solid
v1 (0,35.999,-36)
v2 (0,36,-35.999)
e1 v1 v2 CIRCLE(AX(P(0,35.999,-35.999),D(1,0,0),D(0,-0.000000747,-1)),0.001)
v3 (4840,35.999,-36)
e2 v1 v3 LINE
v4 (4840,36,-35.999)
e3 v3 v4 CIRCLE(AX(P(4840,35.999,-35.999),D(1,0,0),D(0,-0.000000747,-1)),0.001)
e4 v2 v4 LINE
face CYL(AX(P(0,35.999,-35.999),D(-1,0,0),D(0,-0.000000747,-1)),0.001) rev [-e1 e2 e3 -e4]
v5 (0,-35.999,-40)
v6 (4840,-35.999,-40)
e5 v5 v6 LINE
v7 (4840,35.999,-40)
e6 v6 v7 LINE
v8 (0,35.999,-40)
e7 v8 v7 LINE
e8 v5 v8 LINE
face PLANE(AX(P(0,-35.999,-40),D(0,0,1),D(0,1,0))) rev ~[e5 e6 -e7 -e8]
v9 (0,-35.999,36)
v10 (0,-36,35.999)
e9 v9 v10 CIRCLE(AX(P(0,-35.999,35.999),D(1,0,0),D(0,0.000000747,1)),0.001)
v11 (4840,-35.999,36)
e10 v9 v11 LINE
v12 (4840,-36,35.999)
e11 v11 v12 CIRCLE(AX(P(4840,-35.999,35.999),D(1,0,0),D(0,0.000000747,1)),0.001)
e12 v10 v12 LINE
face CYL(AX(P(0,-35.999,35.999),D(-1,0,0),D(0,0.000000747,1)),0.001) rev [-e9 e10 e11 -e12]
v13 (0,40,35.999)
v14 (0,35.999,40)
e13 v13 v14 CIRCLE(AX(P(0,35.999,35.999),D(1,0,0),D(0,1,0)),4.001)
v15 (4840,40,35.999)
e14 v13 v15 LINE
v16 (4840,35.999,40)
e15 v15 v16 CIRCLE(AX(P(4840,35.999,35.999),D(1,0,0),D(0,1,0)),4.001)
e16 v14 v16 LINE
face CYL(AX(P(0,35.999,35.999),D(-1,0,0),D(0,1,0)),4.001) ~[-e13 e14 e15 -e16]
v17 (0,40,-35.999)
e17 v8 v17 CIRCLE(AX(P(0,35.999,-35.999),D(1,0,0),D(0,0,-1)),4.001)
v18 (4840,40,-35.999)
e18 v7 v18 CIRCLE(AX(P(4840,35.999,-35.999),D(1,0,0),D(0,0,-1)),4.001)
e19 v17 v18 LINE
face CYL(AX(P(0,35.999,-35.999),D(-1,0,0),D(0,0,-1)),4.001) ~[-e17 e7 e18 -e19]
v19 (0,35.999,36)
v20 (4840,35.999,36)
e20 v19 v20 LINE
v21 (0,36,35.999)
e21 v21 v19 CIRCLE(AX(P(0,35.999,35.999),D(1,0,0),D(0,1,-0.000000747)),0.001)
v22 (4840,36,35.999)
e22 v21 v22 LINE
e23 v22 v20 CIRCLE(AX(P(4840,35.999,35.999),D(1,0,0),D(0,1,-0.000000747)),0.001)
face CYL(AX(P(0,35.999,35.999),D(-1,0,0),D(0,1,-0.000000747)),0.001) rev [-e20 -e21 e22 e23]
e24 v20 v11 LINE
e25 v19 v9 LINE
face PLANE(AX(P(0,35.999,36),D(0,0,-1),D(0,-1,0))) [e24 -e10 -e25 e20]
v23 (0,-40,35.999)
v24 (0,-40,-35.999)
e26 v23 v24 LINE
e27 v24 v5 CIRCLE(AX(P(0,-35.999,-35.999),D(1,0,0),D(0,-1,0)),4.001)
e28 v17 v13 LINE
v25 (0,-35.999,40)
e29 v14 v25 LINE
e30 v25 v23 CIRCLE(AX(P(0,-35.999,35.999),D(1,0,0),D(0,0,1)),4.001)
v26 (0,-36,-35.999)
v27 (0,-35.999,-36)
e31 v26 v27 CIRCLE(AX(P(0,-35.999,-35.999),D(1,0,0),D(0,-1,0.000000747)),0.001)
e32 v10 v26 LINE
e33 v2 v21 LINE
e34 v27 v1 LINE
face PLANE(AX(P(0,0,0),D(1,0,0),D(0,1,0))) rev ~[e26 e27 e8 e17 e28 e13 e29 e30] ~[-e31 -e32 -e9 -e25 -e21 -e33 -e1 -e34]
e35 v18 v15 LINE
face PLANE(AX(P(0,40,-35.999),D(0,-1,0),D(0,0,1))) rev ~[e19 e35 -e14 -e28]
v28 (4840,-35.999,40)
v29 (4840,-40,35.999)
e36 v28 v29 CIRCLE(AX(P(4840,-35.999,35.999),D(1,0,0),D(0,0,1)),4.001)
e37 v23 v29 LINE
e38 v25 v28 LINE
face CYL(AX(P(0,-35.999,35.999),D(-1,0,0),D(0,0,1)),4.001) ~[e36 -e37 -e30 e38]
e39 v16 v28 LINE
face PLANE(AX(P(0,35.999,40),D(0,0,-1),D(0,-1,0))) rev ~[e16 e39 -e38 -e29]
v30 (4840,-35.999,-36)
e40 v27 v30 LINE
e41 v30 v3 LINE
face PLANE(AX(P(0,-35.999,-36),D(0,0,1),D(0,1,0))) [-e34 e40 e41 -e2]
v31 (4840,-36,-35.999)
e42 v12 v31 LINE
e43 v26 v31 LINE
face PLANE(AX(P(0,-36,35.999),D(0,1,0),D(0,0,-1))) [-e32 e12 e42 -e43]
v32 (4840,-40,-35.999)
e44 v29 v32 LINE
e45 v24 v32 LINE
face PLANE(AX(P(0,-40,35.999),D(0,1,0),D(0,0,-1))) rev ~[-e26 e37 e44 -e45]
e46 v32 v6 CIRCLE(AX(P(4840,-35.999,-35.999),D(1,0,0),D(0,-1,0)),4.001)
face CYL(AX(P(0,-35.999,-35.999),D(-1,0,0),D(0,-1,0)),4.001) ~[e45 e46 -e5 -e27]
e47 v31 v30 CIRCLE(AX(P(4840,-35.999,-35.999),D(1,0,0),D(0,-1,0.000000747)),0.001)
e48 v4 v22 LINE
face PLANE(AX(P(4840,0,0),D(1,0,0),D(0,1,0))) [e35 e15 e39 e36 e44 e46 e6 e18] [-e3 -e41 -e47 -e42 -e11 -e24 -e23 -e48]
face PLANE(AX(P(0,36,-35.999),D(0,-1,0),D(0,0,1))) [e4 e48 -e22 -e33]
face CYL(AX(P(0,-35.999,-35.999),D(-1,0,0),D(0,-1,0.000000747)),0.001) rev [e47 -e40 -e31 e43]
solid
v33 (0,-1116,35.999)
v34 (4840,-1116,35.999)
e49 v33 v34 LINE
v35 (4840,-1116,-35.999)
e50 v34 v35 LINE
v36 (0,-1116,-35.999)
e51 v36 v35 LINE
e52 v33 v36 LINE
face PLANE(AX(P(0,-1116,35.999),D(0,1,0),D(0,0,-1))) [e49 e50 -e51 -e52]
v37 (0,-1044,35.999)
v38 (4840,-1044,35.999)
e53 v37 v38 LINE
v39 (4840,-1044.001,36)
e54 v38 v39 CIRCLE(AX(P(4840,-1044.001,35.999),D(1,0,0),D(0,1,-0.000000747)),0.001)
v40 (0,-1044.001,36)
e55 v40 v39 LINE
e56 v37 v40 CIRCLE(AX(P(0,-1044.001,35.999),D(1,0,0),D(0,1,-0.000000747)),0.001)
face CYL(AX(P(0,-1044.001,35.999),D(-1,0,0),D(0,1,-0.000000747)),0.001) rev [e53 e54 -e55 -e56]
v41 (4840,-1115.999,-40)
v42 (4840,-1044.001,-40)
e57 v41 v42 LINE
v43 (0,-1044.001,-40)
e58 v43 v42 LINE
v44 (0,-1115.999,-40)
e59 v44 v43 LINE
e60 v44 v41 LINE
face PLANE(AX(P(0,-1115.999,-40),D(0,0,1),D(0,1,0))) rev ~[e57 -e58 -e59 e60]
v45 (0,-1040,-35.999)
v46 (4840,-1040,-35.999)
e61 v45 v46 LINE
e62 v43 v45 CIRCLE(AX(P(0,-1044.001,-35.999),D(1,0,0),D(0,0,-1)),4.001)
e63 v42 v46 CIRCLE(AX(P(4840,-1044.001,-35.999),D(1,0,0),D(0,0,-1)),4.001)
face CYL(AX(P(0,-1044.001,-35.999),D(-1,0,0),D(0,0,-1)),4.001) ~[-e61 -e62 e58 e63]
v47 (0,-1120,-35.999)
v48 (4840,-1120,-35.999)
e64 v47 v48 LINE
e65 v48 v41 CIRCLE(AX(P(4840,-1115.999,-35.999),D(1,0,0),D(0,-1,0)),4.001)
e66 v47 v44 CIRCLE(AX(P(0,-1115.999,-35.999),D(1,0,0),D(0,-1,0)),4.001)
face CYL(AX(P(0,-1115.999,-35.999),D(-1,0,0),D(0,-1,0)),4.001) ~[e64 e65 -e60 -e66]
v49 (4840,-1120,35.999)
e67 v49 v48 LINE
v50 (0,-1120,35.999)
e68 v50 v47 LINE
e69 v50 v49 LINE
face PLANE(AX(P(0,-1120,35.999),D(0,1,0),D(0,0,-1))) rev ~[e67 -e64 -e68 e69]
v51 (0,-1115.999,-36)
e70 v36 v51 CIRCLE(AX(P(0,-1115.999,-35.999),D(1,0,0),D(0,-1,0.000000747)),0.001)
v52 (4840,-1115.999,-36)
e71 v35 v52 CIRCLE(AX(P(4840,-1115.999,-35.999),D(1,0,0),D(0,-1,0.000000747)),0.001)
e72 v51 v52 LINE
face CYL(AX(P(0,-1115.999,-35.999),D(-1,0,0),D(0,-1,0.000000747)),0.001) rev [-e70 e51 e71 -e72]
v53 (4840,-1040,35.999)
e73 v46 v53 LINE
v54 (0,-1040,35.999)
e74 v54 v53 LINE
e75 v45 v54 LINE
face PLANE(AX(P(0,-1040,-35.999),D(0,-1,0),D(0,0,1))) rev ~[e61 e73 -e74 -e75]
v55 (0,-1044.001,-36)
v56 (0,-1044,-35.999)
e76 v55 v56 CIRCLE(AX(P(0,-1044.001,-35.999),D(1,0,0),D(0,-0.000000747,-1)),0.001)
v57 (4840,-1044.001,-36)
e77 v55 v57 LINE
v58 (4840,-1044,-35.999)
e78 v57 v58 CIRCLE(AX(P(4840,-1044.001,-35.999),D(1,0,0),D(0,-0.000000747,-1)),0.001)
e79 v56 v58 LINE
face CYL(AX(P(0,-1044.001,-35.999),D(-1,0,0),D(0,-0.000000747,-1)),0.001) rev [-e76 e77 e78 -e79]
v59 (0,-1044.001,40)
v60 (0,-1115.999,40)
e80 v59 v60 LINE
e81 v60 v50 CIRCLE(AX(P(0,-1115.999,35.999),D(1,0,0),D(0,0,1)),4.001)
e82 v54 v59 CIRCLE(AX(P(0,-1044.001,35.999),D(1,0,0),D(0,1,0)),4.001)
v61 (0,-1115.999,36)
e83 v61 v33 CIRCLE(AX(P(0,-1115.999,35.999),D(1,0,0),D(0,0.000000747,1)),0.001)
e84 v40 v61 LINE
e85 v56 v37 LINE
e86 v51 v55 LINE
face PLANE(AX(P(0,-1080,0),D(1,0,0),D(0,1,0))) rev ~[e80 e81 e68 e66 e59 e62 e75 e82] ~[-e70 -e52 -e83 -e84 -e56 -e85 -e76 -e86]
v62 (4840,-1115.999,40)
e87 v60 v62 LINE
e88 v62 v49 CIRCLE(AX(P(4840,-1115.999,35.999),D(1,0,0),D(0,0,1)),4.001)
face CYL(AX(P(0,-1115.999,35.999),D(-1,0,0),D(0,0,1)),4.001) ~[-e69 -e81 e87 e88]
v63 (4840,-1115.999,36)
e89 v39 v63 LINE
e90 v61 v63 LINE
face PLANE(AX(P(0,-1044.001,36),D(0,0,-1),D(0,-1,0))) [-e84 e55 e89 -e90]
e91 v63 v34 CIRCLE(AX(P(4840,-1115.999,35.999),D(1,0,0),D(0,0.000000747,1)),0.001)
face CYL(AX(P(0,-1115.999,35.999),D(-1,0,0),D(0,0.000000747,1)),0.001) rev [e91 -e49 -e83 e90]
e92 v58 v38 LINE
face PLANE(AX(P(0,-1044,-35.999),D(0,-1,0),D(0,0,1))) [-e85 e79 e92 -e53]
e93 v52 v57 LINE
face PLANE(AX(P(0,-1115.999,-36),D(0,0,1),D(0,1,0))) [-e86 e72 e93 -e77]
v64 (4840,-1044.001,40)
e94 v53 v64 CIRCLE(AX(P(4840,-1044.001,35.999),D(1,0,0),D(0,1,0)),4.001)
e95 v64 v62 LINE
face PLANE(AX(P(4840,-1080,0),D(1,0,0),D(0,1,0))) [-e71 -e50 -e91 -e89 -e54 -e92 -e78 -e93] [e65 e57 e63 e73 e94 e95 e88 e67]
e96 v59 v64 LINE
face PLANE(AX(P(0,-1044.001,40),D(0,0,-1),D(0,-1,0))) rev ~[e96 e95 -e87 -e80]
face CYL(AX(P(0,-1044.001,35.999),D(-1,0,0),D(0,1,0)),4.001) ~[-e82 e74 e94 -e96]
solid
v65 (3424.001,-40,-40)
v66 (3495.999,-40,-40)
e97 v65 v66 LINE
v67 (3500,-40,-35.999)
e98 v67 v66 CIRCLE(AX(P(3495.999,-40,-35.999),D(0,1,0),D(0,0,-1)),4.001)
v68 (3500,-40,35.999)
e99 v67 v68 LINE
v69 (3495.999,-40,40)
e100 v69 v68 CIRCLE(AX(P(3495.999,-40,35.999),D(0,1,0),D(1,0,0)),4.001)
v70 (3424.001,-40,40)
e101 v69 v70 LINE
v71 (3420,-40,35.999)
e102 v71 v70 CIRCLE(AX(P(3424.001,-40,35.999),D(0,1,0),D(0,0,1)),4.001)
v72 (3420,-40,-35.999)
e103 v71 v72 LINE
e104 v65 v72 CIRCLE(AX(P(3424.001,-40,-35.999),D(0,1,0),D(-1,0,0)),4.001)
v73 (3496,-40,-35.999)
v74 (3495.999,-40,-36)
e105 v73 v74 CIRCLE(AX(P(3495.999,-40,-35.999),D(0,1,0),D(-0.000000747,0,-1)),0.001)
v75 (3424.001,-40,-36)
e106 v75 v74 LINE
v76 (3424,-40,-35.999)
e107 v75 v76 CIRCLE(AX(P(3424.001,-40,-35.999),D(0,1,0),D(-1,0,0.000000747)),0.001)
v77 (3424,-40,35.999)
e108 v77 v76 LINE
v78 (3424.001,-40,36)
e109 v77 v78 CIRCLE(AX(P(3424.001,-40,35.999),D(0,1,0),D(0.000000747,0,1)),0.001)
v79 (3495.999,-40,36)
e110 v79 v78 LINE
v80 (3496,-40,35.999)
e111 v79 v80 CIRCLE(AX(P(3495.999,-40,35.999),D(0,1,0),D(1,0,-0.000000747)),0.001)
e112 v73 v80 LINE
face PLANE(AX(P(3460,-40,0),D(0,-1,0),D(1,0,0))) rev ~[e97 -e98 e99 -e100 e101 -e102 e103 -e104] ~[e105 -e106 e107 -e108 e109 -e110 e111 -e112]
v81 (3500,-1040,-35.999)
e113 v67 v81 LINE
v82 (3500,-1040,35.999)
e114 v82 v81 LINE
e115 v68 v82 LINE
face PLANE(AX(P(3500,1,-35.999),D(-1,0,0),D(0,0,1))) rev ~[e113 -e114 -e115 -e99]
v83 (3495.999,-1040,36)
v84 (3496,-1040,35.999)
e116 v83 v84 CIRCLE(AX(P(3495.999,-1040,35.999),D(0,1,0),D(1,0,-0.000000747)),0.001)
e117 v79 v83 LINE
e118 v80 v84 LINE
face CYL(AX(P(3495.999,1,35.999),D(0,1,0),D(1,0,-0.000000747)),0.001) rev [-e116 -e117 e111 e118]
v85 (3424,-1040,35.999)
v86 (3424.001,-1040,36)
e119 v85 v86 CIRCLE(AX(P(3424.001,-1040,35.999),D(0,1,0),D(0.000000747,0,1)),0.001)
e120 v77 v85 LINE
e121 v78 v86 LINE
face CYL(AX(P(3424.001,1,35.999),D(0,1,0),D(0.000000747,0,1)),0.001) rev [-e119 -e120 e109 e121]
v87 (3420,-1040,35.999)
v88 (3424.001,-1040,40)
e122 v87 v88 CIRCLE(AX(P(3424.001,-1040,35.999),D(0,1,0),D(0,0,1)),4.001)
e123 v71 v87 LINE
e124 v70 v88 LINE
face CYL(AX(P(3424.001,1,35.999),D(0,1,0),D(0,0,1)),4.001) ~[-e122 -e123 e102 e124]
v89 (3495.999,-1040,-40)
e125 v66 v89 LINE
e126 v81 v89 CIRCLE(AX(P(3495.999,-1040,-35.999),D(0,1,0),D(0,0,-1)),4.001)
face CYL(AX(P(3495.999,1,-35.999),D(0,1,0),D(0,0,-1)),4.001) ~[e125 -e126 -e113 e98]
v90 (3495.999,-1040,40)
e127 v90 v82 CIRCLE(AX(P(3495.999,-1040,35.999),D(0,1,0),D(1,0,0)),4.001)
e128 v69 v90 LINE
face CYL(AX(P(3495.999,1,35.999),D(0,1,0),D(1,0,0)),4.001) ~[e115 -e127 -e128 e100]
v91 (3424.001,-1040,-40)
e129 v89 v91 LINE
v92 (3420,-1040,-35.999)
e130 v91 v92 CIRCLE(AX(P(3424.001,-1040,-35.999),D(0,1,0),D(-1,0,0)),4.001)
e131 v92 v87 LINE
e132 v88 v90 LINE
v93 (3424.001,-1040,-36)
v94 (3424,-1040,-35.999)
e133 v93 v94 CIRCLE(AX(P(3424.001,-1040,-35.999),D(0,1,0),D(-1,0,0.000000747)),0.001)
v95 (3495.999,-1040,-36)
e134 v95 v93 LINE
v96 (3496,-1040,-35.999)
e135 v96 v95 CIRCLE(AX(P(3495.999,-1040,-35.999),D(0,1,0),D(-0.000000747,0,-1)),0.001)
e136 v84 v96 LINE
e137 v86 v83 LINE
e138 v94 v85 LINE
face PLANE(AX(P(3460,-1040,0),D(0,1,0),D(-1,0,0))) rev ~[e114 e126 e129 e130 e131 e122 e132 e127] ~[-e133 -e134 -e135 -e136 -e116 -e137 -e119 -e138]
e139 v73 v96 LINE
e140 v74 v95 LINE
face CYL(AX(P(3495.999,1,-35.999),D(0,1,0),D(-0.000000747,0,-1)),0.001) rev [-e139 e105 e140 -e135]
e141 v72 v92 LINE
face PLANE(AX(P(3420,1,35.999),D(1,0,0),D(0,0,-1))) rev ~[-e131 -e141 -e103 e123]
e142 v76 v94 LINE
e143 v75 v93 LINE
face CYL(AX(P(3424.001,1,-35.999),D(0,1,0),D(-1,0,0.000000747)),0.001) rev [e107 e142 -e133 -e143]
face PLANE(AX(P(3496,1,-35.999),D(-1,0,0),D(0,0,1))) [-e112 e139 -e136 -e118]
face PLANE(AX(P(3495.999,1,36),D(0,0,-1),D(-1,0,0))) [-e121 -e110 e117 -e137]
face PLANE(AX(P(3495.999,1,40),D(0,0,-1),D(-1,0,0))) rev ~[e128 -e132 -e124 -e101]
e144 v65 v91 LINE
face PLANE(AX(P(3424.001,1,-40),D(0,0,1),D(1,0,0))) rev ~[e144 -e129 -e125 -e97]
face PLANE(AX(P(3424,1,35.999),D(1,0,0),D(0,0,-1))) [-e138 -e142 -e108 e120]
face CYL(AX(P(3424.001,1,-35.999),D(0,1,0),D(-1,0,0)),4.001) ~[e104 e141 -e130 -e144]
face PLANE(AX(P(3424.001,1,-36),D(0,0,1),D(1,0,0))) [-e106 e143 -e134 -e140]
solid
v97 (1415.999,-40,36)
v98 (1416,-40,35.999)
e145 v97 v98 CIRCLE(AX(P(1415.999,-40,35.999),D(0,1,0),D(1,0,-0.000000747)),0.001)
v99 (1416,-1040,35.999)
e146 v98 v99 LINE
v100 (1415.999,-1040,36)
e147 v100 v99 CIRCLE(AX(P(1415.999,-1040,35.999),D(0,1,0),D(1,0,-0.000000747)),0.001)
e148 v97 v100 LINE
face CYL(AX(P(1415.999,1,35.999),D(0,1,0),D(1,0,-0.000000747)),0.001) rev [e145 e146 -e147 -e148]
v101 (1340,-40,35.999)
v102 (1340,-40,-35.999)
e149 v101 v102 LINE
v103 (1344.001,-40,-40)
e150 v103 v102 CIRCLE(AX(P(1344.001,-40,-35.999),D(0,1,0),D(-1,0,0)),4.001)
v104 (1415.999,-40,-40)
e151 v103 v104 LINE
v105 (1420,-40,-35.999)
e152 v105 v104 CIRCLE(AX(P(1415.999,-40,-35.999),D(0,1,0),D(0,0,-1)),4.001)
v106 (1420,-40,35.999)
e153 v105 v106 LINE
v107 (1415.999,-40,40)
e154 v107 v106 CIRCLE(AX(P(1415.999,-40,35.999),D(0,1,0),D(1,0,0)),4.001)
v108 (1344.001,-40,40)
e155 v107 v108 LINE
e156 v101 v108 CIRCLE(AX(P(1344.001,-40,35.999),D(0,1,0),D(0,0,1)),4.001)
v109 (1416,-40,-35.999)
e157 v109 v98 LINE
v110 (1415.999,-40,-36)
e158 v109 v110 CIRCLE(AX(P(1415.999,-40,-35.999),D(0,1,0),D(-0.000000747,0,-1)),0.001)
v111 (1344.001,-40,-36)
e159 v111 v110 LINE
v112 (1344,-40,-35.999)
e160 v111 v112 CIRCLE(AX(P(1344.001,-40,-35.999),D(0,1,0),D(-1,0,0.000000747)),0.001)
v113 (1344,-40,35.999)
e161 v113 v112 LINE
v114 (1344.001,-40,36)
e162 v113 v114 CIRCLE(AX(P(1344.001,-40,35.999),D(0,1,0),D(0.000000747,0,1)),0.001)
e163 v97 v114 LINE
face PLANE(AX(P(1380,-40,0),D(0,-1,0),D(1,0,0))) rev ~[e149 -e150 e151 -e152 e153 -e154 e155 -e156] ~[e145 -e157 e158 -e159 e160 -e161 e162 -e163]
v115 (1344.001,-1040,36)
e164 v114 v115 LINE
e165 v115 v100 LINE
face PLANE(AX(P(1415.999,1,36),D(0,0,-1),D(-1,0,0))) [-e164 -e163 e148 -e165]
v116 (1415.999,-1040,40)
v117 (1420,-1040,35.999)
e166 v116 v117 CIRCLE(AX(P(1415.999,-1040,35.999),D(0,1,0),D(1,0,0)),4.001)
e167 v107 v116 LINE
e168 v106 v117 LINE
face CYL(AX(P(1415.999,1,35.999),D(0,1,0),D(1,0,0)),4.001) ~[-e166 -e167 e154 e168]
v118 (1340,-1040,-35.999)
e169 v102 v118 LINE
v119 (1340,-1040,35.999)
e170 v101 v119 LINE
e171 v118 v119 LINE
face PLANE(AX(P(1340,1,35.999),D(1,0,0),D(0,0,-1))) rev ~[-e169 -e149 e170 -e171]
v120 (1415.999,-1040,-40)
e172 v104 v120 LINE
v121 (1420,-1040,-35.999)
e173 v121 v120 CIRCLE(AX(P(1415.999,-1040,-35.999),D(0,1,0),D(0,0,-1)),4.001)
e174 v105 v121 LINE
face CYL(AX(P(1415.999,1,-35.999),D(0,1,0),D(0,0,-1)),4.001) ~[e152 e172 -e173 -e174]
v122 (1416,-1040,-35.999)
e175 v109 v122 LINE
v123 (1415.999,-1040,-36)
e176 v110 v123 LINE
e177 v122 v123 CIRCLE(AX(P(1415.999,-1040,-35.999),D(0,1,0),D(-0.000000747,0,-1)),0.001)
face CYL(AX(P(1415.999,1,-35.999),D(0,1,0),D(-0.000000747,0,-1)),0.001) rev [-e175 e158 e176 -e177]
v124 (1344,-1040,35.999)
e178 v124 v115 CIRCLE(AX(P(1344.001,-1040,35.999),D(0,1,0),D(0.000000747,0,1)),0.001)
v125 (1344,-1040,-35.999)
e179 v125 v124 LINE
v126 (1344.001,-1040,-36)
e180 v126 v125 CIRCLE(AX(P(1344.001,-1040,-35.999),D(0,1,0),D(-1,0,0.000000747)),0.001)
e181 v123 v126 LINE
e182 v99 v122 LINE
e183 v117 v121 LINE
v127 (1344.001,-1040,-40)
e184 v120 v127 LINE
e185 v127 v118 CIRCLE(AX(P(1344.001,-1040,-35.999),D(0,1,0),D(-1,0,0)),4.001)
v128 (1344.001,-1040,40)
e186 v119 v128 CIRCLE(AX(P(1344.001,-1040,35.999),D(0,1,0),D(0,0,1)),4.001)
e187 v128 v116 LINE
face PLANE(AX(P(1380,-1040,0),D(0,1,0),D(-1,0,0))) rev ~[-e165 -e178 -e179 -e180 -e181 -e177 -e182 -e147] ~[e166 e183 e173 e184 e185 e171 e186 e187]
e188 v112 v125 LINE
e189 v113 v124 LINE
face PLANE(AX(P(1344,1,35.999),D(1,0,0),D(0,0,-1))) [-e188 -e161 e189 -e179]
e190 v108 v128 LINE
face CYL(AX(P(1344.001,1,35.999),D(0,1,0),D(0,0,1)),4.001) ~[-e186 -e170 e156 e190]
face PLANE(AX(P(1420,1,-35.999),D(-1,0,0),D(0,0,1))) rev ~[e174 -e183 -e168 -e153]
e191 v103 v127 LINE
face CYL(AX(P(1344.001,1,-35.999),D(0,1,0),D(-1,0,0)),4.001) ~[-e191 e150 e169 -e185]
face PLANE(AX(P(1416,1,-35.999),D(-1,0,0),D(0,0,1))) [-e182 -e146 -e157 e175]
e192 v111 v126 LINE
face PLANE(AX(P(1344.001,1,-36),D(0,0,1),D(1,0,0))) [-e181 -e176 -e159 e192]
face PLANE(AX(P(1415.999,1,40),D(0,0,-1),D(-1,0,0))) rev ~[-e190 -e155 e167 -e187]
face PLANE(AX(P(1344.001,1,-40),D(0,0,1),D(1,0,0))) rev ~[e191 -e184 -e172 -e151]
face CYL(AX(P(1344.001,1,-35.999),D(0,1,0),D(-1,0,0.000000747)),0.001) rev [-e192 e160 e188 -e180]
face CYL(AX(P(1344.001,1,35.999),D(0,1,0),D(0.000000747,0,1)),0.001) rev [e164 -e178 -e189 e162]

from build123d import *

# Parameters (mm, degrees)
F_8639_82_80_X_80_X_4_0_1_DEPTH   = 4840
F_8639_82_80_X_80_X_4_0_1_2_DEPTH = 4840
F_8639_82_80_X_80_X_4_0_1_3_DEPTH = 1082
F_8639_82_80_X_80_X_4_0_1_4_DEPTH = 1082


with BuildPart() as part:
    # Sketch1 → Квадратная труба гост 8639-82 _80 X 80 X 4.0(1) (new body)
    with BuildSketch(Plane.YZ):
        with BuildLine():
            Line((-35.999, -40), (35.999, -40))
            ThreePointArc((35.999, -40), (38.828134232, -38.828134232), (40, -35.999))
            Line((40, -35.999), (40, 35.999))
            ThreePointArc((40, 35.999), (38.828134232, 38.828134232), (35.999, 40))
            Line((35.999, 40), (-35.999, 40))
            ThreePointArc((-35.999, 40), (-38.828134232, 38.828134232), (-40, 35.999))
            Line((-40, 35.999), (-40, -35.999))
            ThreePointArc((-40, -35.999), (-38.828134232, -38.828134232), (-35.999, -40))
        make_face()
        with BuildLine():
            Line((-35.999, -36), (35.999, -36))
            ThreePointArc((35.999, -36), (35.999707107, -35.999707107), (36, -35.999))
            Line((36, -35.999), (36, 35.999))
            ThreePointArc((36, 35.999), (35.999707107, 35.999707107), (35.999, 36))
            Line((35.999, 36), (-35.999, 36))
            ThreePointArc((-35.999, 36), (-35.999707107, 35.999707107), (-36, 35.999))
            Line((-36, 35.999), (-36, -35.999))
            ThreePointArc((-36, -35.999), (-35.999707107, -35.999707107), (-35.999, -36))
        make_face(mode=Mode.SUBTRACT)
    extrude(amount=F_8639_82_80_X_80_X_4_0_1_DEPTH)


with BuildPart() as body_2:
    # Sketch1 on segment 2 (carried to segment 2) → 8639-82 _80 X 80 X 4.0_1 2 (new body)
    with BuildSketch(Plane(origin=(0, -1080, 0), x_dir=(0, 1, 0), z_dir=(1, 0, 0))):
        with BuildLine():
            Line((-35.999, -40), (35.999, -40))
            ThreePointArc((35.999, -40), (38.828134232, -38.828134232), (40, -35.999))
            Line((40, -35.999), (40, 35.999))
            ThreePointArc((40, 35.999), (38.828134232, 38.828134232), (35.999, 40))
            Line((35.999, 40), (-35.999, 40))
            ThreePointArc((-35.999, 40), (-38.828134232, 38.828134232), (-40, 35.999))
            Line((-40, 35.999), (-40, -35.999))
            ThreePointArc((-40, -35.999), (-38.828134232, -38.828134232), (-35.999, -40))
        make_face()
        with BuildLine():
            Line((-35.999, -36), (35.999, -36))
            ThreePointArc((35.999, -36), (35.999707107, -35.999707107), (36, -35.999))
            Line((36, -35.999), (36, 35.999))
            ThreePointArc((36, 35.999), (35.999707107, 35.999707107), (35.999, 36))
            Line((35.999, 36), (-35.999, 36))
            ThreePointArc((-35.999, 36), (-35.999707107, 35.999707107), (-36, 35.999))
            Line((-36, 35.999), (-36, -35.999))
            ThreePointArc((-36, -35.999), (-35.999707107, -35.999707107), (-35.999, -36))
        make_face(mode=Mode.SUBTRACT)
    extrude(amount=F_8639_82_80_X_80_X_4_0_1_2_DEPTH)


with BuildPart() as body_3:
    # Sketch1 on segment 3 (carried to segment 3) → 8639-82 _80 X 80 X 4.0_1 3 (new body)
    with BuildSketch(Plane(origin=(1380, 1, 0), x_dir=(1, 0, 0), z_dir=(0, -1, 0))):
        with BuildLine():
            Line((-35.999, -40), (35.999, -40))
            ThreePointArc((35.999, -40), (38.828134232, -38.828134232), (40, -35.999))
            Line((40, -35.999), (40, 35.999))
            ThreePointArc((40, 35.999), (38.828134232, 38.828134232), (35.999, 40))
            Line((35.999, 40), (-35.999, 40))
            ThreePointArc((-35.999, 40), (-38.828134232, 38.828134232), (-40, 35.999))
            Line((-40, 35.999), (-40, -35.999))
            ThreePointArc((-40, -35.999), (-38.828134232, -38.828134232), (-35.999, -40))
        make_face()
        with BuildLine():
            Line((-35.999, -36), (35.999, -36))
            ThreePointArc((35.999, -36), (35.999707107, -35.999707107), (36, -35.999))
            Line((36, -35.999), (36, 35.999))
            ThreePointArc((36, 35.999), (35.999707107, 35.999707107), (35.999, 36))
            Line((35.999, 36), (-35.999, 36))
            ThreePointArc((-35.999, 36), (-35.999707107, 35.999707107), (-36, 35.999))
            Line((-36, 35.999), (-36, -35.999))
            ThreePointArc((-36, -35.999), (-35.999707107, -35.999707107), (-35.999, -36))
        make_face(mode=Mode.SUBTRACT)
    extrude(amount=F_8639_82_80_X_80_X_4_0_1_3_DEPTH)

    # 8639-82 _80 X 80 X 4.0_1 3 end butt 1
    split(bisect_by=Plane(origin=(1380, -40, 0), x_dir=(1, 0, 0), z_dir=(0, -1, 0)), keep=Keep.TOP)

    # 8639-82 _80 X 80 X 4.0_1 3 end butt 2
    split(bisect_by=Plane(origin=(1380, -1040, 0), x_dir=(-1, 0, 0), z_dir=(0, 1, 0)), keep=Keep.TOP)


with BuildPart() as body_4:
    # Sketch1 on segment 4 (carried to segment 4) → 8639-82 _80 X 80 X 4.0_1 4 (new body)
    with BuildSketch(Plane(origin=(3460, 1, 0), x_dir=(1, 0, 0), z_dir=(0, -1, 0))):
        with BuildLine():
            Line((-35.999, -40), (35.999, -40))
            ThreePointArc((35.999, -40), (38.828134232, -38.828134232), (40, -35.999))
            Line((40, -35.999), (40, 35.999))
            ThreePointArc((40, 35.999), (38.828134232, 38.828134232), (35.999, 40))
            Line((35.999, 40), (-35.999, 40))
            ThreePointArc((-35.999, 40), (-38.828134232, 38.828134232), (-40, 35.999))
            Line((-40, 35.999), (-40, -35.999))
            ThreePointArc((-40, -35.999), (-38.828134232, -38.828134232), (-35.999, -40))
        make_face()
        with BuildLine():
            Line((-35.999, -36), (35.999, -36))
            ThreePointArc((35.999, -36), (35.999707107, -35.999707107), (36, -35.999))
            Line((36, -35.999), (36, 35.999))
            ThreePointArc((36, 35.999), (35.999707107, 35.999707107), (35.999, 36))
            Line((35.999, 36), (-35.999, 36))
            ThreePointArc((-35.999, 36), (-35.999707107, 35.999707107), (-36, 35.999))
            Line((-36, 35.999), (-36, -35.999))
            ThreePointArc((-36, -35.999), (-35.999707107, -35.999707107), (-35.999, -36))
        make_face(mode=Mode.SUBTRACT)
    extrude(amount=F_8639_82_80_X_80_X_4_0_1_4_DEPTH)

    # 8639-82 _80 X 80 X 4.0_1 4 end butt 1
    split(bisect_by=Plane(origin=(3460, -40, 0), x_dir=(1, 0, 0), z_dir=(0, -1, 0)), keep=Keep.TOP)

    # 8639-82 _80 X 80 X 4.0_1 4 end butt 2
    split(bisect_by=Plane(origin=(3460, -1040, 0), x_dir=(-1, 0, 0), z_dir=(0, 1, 0)), keep=Keep.TOP)


solid = Compound([part.part, body_2.part, body_3.part, body_4.part])
